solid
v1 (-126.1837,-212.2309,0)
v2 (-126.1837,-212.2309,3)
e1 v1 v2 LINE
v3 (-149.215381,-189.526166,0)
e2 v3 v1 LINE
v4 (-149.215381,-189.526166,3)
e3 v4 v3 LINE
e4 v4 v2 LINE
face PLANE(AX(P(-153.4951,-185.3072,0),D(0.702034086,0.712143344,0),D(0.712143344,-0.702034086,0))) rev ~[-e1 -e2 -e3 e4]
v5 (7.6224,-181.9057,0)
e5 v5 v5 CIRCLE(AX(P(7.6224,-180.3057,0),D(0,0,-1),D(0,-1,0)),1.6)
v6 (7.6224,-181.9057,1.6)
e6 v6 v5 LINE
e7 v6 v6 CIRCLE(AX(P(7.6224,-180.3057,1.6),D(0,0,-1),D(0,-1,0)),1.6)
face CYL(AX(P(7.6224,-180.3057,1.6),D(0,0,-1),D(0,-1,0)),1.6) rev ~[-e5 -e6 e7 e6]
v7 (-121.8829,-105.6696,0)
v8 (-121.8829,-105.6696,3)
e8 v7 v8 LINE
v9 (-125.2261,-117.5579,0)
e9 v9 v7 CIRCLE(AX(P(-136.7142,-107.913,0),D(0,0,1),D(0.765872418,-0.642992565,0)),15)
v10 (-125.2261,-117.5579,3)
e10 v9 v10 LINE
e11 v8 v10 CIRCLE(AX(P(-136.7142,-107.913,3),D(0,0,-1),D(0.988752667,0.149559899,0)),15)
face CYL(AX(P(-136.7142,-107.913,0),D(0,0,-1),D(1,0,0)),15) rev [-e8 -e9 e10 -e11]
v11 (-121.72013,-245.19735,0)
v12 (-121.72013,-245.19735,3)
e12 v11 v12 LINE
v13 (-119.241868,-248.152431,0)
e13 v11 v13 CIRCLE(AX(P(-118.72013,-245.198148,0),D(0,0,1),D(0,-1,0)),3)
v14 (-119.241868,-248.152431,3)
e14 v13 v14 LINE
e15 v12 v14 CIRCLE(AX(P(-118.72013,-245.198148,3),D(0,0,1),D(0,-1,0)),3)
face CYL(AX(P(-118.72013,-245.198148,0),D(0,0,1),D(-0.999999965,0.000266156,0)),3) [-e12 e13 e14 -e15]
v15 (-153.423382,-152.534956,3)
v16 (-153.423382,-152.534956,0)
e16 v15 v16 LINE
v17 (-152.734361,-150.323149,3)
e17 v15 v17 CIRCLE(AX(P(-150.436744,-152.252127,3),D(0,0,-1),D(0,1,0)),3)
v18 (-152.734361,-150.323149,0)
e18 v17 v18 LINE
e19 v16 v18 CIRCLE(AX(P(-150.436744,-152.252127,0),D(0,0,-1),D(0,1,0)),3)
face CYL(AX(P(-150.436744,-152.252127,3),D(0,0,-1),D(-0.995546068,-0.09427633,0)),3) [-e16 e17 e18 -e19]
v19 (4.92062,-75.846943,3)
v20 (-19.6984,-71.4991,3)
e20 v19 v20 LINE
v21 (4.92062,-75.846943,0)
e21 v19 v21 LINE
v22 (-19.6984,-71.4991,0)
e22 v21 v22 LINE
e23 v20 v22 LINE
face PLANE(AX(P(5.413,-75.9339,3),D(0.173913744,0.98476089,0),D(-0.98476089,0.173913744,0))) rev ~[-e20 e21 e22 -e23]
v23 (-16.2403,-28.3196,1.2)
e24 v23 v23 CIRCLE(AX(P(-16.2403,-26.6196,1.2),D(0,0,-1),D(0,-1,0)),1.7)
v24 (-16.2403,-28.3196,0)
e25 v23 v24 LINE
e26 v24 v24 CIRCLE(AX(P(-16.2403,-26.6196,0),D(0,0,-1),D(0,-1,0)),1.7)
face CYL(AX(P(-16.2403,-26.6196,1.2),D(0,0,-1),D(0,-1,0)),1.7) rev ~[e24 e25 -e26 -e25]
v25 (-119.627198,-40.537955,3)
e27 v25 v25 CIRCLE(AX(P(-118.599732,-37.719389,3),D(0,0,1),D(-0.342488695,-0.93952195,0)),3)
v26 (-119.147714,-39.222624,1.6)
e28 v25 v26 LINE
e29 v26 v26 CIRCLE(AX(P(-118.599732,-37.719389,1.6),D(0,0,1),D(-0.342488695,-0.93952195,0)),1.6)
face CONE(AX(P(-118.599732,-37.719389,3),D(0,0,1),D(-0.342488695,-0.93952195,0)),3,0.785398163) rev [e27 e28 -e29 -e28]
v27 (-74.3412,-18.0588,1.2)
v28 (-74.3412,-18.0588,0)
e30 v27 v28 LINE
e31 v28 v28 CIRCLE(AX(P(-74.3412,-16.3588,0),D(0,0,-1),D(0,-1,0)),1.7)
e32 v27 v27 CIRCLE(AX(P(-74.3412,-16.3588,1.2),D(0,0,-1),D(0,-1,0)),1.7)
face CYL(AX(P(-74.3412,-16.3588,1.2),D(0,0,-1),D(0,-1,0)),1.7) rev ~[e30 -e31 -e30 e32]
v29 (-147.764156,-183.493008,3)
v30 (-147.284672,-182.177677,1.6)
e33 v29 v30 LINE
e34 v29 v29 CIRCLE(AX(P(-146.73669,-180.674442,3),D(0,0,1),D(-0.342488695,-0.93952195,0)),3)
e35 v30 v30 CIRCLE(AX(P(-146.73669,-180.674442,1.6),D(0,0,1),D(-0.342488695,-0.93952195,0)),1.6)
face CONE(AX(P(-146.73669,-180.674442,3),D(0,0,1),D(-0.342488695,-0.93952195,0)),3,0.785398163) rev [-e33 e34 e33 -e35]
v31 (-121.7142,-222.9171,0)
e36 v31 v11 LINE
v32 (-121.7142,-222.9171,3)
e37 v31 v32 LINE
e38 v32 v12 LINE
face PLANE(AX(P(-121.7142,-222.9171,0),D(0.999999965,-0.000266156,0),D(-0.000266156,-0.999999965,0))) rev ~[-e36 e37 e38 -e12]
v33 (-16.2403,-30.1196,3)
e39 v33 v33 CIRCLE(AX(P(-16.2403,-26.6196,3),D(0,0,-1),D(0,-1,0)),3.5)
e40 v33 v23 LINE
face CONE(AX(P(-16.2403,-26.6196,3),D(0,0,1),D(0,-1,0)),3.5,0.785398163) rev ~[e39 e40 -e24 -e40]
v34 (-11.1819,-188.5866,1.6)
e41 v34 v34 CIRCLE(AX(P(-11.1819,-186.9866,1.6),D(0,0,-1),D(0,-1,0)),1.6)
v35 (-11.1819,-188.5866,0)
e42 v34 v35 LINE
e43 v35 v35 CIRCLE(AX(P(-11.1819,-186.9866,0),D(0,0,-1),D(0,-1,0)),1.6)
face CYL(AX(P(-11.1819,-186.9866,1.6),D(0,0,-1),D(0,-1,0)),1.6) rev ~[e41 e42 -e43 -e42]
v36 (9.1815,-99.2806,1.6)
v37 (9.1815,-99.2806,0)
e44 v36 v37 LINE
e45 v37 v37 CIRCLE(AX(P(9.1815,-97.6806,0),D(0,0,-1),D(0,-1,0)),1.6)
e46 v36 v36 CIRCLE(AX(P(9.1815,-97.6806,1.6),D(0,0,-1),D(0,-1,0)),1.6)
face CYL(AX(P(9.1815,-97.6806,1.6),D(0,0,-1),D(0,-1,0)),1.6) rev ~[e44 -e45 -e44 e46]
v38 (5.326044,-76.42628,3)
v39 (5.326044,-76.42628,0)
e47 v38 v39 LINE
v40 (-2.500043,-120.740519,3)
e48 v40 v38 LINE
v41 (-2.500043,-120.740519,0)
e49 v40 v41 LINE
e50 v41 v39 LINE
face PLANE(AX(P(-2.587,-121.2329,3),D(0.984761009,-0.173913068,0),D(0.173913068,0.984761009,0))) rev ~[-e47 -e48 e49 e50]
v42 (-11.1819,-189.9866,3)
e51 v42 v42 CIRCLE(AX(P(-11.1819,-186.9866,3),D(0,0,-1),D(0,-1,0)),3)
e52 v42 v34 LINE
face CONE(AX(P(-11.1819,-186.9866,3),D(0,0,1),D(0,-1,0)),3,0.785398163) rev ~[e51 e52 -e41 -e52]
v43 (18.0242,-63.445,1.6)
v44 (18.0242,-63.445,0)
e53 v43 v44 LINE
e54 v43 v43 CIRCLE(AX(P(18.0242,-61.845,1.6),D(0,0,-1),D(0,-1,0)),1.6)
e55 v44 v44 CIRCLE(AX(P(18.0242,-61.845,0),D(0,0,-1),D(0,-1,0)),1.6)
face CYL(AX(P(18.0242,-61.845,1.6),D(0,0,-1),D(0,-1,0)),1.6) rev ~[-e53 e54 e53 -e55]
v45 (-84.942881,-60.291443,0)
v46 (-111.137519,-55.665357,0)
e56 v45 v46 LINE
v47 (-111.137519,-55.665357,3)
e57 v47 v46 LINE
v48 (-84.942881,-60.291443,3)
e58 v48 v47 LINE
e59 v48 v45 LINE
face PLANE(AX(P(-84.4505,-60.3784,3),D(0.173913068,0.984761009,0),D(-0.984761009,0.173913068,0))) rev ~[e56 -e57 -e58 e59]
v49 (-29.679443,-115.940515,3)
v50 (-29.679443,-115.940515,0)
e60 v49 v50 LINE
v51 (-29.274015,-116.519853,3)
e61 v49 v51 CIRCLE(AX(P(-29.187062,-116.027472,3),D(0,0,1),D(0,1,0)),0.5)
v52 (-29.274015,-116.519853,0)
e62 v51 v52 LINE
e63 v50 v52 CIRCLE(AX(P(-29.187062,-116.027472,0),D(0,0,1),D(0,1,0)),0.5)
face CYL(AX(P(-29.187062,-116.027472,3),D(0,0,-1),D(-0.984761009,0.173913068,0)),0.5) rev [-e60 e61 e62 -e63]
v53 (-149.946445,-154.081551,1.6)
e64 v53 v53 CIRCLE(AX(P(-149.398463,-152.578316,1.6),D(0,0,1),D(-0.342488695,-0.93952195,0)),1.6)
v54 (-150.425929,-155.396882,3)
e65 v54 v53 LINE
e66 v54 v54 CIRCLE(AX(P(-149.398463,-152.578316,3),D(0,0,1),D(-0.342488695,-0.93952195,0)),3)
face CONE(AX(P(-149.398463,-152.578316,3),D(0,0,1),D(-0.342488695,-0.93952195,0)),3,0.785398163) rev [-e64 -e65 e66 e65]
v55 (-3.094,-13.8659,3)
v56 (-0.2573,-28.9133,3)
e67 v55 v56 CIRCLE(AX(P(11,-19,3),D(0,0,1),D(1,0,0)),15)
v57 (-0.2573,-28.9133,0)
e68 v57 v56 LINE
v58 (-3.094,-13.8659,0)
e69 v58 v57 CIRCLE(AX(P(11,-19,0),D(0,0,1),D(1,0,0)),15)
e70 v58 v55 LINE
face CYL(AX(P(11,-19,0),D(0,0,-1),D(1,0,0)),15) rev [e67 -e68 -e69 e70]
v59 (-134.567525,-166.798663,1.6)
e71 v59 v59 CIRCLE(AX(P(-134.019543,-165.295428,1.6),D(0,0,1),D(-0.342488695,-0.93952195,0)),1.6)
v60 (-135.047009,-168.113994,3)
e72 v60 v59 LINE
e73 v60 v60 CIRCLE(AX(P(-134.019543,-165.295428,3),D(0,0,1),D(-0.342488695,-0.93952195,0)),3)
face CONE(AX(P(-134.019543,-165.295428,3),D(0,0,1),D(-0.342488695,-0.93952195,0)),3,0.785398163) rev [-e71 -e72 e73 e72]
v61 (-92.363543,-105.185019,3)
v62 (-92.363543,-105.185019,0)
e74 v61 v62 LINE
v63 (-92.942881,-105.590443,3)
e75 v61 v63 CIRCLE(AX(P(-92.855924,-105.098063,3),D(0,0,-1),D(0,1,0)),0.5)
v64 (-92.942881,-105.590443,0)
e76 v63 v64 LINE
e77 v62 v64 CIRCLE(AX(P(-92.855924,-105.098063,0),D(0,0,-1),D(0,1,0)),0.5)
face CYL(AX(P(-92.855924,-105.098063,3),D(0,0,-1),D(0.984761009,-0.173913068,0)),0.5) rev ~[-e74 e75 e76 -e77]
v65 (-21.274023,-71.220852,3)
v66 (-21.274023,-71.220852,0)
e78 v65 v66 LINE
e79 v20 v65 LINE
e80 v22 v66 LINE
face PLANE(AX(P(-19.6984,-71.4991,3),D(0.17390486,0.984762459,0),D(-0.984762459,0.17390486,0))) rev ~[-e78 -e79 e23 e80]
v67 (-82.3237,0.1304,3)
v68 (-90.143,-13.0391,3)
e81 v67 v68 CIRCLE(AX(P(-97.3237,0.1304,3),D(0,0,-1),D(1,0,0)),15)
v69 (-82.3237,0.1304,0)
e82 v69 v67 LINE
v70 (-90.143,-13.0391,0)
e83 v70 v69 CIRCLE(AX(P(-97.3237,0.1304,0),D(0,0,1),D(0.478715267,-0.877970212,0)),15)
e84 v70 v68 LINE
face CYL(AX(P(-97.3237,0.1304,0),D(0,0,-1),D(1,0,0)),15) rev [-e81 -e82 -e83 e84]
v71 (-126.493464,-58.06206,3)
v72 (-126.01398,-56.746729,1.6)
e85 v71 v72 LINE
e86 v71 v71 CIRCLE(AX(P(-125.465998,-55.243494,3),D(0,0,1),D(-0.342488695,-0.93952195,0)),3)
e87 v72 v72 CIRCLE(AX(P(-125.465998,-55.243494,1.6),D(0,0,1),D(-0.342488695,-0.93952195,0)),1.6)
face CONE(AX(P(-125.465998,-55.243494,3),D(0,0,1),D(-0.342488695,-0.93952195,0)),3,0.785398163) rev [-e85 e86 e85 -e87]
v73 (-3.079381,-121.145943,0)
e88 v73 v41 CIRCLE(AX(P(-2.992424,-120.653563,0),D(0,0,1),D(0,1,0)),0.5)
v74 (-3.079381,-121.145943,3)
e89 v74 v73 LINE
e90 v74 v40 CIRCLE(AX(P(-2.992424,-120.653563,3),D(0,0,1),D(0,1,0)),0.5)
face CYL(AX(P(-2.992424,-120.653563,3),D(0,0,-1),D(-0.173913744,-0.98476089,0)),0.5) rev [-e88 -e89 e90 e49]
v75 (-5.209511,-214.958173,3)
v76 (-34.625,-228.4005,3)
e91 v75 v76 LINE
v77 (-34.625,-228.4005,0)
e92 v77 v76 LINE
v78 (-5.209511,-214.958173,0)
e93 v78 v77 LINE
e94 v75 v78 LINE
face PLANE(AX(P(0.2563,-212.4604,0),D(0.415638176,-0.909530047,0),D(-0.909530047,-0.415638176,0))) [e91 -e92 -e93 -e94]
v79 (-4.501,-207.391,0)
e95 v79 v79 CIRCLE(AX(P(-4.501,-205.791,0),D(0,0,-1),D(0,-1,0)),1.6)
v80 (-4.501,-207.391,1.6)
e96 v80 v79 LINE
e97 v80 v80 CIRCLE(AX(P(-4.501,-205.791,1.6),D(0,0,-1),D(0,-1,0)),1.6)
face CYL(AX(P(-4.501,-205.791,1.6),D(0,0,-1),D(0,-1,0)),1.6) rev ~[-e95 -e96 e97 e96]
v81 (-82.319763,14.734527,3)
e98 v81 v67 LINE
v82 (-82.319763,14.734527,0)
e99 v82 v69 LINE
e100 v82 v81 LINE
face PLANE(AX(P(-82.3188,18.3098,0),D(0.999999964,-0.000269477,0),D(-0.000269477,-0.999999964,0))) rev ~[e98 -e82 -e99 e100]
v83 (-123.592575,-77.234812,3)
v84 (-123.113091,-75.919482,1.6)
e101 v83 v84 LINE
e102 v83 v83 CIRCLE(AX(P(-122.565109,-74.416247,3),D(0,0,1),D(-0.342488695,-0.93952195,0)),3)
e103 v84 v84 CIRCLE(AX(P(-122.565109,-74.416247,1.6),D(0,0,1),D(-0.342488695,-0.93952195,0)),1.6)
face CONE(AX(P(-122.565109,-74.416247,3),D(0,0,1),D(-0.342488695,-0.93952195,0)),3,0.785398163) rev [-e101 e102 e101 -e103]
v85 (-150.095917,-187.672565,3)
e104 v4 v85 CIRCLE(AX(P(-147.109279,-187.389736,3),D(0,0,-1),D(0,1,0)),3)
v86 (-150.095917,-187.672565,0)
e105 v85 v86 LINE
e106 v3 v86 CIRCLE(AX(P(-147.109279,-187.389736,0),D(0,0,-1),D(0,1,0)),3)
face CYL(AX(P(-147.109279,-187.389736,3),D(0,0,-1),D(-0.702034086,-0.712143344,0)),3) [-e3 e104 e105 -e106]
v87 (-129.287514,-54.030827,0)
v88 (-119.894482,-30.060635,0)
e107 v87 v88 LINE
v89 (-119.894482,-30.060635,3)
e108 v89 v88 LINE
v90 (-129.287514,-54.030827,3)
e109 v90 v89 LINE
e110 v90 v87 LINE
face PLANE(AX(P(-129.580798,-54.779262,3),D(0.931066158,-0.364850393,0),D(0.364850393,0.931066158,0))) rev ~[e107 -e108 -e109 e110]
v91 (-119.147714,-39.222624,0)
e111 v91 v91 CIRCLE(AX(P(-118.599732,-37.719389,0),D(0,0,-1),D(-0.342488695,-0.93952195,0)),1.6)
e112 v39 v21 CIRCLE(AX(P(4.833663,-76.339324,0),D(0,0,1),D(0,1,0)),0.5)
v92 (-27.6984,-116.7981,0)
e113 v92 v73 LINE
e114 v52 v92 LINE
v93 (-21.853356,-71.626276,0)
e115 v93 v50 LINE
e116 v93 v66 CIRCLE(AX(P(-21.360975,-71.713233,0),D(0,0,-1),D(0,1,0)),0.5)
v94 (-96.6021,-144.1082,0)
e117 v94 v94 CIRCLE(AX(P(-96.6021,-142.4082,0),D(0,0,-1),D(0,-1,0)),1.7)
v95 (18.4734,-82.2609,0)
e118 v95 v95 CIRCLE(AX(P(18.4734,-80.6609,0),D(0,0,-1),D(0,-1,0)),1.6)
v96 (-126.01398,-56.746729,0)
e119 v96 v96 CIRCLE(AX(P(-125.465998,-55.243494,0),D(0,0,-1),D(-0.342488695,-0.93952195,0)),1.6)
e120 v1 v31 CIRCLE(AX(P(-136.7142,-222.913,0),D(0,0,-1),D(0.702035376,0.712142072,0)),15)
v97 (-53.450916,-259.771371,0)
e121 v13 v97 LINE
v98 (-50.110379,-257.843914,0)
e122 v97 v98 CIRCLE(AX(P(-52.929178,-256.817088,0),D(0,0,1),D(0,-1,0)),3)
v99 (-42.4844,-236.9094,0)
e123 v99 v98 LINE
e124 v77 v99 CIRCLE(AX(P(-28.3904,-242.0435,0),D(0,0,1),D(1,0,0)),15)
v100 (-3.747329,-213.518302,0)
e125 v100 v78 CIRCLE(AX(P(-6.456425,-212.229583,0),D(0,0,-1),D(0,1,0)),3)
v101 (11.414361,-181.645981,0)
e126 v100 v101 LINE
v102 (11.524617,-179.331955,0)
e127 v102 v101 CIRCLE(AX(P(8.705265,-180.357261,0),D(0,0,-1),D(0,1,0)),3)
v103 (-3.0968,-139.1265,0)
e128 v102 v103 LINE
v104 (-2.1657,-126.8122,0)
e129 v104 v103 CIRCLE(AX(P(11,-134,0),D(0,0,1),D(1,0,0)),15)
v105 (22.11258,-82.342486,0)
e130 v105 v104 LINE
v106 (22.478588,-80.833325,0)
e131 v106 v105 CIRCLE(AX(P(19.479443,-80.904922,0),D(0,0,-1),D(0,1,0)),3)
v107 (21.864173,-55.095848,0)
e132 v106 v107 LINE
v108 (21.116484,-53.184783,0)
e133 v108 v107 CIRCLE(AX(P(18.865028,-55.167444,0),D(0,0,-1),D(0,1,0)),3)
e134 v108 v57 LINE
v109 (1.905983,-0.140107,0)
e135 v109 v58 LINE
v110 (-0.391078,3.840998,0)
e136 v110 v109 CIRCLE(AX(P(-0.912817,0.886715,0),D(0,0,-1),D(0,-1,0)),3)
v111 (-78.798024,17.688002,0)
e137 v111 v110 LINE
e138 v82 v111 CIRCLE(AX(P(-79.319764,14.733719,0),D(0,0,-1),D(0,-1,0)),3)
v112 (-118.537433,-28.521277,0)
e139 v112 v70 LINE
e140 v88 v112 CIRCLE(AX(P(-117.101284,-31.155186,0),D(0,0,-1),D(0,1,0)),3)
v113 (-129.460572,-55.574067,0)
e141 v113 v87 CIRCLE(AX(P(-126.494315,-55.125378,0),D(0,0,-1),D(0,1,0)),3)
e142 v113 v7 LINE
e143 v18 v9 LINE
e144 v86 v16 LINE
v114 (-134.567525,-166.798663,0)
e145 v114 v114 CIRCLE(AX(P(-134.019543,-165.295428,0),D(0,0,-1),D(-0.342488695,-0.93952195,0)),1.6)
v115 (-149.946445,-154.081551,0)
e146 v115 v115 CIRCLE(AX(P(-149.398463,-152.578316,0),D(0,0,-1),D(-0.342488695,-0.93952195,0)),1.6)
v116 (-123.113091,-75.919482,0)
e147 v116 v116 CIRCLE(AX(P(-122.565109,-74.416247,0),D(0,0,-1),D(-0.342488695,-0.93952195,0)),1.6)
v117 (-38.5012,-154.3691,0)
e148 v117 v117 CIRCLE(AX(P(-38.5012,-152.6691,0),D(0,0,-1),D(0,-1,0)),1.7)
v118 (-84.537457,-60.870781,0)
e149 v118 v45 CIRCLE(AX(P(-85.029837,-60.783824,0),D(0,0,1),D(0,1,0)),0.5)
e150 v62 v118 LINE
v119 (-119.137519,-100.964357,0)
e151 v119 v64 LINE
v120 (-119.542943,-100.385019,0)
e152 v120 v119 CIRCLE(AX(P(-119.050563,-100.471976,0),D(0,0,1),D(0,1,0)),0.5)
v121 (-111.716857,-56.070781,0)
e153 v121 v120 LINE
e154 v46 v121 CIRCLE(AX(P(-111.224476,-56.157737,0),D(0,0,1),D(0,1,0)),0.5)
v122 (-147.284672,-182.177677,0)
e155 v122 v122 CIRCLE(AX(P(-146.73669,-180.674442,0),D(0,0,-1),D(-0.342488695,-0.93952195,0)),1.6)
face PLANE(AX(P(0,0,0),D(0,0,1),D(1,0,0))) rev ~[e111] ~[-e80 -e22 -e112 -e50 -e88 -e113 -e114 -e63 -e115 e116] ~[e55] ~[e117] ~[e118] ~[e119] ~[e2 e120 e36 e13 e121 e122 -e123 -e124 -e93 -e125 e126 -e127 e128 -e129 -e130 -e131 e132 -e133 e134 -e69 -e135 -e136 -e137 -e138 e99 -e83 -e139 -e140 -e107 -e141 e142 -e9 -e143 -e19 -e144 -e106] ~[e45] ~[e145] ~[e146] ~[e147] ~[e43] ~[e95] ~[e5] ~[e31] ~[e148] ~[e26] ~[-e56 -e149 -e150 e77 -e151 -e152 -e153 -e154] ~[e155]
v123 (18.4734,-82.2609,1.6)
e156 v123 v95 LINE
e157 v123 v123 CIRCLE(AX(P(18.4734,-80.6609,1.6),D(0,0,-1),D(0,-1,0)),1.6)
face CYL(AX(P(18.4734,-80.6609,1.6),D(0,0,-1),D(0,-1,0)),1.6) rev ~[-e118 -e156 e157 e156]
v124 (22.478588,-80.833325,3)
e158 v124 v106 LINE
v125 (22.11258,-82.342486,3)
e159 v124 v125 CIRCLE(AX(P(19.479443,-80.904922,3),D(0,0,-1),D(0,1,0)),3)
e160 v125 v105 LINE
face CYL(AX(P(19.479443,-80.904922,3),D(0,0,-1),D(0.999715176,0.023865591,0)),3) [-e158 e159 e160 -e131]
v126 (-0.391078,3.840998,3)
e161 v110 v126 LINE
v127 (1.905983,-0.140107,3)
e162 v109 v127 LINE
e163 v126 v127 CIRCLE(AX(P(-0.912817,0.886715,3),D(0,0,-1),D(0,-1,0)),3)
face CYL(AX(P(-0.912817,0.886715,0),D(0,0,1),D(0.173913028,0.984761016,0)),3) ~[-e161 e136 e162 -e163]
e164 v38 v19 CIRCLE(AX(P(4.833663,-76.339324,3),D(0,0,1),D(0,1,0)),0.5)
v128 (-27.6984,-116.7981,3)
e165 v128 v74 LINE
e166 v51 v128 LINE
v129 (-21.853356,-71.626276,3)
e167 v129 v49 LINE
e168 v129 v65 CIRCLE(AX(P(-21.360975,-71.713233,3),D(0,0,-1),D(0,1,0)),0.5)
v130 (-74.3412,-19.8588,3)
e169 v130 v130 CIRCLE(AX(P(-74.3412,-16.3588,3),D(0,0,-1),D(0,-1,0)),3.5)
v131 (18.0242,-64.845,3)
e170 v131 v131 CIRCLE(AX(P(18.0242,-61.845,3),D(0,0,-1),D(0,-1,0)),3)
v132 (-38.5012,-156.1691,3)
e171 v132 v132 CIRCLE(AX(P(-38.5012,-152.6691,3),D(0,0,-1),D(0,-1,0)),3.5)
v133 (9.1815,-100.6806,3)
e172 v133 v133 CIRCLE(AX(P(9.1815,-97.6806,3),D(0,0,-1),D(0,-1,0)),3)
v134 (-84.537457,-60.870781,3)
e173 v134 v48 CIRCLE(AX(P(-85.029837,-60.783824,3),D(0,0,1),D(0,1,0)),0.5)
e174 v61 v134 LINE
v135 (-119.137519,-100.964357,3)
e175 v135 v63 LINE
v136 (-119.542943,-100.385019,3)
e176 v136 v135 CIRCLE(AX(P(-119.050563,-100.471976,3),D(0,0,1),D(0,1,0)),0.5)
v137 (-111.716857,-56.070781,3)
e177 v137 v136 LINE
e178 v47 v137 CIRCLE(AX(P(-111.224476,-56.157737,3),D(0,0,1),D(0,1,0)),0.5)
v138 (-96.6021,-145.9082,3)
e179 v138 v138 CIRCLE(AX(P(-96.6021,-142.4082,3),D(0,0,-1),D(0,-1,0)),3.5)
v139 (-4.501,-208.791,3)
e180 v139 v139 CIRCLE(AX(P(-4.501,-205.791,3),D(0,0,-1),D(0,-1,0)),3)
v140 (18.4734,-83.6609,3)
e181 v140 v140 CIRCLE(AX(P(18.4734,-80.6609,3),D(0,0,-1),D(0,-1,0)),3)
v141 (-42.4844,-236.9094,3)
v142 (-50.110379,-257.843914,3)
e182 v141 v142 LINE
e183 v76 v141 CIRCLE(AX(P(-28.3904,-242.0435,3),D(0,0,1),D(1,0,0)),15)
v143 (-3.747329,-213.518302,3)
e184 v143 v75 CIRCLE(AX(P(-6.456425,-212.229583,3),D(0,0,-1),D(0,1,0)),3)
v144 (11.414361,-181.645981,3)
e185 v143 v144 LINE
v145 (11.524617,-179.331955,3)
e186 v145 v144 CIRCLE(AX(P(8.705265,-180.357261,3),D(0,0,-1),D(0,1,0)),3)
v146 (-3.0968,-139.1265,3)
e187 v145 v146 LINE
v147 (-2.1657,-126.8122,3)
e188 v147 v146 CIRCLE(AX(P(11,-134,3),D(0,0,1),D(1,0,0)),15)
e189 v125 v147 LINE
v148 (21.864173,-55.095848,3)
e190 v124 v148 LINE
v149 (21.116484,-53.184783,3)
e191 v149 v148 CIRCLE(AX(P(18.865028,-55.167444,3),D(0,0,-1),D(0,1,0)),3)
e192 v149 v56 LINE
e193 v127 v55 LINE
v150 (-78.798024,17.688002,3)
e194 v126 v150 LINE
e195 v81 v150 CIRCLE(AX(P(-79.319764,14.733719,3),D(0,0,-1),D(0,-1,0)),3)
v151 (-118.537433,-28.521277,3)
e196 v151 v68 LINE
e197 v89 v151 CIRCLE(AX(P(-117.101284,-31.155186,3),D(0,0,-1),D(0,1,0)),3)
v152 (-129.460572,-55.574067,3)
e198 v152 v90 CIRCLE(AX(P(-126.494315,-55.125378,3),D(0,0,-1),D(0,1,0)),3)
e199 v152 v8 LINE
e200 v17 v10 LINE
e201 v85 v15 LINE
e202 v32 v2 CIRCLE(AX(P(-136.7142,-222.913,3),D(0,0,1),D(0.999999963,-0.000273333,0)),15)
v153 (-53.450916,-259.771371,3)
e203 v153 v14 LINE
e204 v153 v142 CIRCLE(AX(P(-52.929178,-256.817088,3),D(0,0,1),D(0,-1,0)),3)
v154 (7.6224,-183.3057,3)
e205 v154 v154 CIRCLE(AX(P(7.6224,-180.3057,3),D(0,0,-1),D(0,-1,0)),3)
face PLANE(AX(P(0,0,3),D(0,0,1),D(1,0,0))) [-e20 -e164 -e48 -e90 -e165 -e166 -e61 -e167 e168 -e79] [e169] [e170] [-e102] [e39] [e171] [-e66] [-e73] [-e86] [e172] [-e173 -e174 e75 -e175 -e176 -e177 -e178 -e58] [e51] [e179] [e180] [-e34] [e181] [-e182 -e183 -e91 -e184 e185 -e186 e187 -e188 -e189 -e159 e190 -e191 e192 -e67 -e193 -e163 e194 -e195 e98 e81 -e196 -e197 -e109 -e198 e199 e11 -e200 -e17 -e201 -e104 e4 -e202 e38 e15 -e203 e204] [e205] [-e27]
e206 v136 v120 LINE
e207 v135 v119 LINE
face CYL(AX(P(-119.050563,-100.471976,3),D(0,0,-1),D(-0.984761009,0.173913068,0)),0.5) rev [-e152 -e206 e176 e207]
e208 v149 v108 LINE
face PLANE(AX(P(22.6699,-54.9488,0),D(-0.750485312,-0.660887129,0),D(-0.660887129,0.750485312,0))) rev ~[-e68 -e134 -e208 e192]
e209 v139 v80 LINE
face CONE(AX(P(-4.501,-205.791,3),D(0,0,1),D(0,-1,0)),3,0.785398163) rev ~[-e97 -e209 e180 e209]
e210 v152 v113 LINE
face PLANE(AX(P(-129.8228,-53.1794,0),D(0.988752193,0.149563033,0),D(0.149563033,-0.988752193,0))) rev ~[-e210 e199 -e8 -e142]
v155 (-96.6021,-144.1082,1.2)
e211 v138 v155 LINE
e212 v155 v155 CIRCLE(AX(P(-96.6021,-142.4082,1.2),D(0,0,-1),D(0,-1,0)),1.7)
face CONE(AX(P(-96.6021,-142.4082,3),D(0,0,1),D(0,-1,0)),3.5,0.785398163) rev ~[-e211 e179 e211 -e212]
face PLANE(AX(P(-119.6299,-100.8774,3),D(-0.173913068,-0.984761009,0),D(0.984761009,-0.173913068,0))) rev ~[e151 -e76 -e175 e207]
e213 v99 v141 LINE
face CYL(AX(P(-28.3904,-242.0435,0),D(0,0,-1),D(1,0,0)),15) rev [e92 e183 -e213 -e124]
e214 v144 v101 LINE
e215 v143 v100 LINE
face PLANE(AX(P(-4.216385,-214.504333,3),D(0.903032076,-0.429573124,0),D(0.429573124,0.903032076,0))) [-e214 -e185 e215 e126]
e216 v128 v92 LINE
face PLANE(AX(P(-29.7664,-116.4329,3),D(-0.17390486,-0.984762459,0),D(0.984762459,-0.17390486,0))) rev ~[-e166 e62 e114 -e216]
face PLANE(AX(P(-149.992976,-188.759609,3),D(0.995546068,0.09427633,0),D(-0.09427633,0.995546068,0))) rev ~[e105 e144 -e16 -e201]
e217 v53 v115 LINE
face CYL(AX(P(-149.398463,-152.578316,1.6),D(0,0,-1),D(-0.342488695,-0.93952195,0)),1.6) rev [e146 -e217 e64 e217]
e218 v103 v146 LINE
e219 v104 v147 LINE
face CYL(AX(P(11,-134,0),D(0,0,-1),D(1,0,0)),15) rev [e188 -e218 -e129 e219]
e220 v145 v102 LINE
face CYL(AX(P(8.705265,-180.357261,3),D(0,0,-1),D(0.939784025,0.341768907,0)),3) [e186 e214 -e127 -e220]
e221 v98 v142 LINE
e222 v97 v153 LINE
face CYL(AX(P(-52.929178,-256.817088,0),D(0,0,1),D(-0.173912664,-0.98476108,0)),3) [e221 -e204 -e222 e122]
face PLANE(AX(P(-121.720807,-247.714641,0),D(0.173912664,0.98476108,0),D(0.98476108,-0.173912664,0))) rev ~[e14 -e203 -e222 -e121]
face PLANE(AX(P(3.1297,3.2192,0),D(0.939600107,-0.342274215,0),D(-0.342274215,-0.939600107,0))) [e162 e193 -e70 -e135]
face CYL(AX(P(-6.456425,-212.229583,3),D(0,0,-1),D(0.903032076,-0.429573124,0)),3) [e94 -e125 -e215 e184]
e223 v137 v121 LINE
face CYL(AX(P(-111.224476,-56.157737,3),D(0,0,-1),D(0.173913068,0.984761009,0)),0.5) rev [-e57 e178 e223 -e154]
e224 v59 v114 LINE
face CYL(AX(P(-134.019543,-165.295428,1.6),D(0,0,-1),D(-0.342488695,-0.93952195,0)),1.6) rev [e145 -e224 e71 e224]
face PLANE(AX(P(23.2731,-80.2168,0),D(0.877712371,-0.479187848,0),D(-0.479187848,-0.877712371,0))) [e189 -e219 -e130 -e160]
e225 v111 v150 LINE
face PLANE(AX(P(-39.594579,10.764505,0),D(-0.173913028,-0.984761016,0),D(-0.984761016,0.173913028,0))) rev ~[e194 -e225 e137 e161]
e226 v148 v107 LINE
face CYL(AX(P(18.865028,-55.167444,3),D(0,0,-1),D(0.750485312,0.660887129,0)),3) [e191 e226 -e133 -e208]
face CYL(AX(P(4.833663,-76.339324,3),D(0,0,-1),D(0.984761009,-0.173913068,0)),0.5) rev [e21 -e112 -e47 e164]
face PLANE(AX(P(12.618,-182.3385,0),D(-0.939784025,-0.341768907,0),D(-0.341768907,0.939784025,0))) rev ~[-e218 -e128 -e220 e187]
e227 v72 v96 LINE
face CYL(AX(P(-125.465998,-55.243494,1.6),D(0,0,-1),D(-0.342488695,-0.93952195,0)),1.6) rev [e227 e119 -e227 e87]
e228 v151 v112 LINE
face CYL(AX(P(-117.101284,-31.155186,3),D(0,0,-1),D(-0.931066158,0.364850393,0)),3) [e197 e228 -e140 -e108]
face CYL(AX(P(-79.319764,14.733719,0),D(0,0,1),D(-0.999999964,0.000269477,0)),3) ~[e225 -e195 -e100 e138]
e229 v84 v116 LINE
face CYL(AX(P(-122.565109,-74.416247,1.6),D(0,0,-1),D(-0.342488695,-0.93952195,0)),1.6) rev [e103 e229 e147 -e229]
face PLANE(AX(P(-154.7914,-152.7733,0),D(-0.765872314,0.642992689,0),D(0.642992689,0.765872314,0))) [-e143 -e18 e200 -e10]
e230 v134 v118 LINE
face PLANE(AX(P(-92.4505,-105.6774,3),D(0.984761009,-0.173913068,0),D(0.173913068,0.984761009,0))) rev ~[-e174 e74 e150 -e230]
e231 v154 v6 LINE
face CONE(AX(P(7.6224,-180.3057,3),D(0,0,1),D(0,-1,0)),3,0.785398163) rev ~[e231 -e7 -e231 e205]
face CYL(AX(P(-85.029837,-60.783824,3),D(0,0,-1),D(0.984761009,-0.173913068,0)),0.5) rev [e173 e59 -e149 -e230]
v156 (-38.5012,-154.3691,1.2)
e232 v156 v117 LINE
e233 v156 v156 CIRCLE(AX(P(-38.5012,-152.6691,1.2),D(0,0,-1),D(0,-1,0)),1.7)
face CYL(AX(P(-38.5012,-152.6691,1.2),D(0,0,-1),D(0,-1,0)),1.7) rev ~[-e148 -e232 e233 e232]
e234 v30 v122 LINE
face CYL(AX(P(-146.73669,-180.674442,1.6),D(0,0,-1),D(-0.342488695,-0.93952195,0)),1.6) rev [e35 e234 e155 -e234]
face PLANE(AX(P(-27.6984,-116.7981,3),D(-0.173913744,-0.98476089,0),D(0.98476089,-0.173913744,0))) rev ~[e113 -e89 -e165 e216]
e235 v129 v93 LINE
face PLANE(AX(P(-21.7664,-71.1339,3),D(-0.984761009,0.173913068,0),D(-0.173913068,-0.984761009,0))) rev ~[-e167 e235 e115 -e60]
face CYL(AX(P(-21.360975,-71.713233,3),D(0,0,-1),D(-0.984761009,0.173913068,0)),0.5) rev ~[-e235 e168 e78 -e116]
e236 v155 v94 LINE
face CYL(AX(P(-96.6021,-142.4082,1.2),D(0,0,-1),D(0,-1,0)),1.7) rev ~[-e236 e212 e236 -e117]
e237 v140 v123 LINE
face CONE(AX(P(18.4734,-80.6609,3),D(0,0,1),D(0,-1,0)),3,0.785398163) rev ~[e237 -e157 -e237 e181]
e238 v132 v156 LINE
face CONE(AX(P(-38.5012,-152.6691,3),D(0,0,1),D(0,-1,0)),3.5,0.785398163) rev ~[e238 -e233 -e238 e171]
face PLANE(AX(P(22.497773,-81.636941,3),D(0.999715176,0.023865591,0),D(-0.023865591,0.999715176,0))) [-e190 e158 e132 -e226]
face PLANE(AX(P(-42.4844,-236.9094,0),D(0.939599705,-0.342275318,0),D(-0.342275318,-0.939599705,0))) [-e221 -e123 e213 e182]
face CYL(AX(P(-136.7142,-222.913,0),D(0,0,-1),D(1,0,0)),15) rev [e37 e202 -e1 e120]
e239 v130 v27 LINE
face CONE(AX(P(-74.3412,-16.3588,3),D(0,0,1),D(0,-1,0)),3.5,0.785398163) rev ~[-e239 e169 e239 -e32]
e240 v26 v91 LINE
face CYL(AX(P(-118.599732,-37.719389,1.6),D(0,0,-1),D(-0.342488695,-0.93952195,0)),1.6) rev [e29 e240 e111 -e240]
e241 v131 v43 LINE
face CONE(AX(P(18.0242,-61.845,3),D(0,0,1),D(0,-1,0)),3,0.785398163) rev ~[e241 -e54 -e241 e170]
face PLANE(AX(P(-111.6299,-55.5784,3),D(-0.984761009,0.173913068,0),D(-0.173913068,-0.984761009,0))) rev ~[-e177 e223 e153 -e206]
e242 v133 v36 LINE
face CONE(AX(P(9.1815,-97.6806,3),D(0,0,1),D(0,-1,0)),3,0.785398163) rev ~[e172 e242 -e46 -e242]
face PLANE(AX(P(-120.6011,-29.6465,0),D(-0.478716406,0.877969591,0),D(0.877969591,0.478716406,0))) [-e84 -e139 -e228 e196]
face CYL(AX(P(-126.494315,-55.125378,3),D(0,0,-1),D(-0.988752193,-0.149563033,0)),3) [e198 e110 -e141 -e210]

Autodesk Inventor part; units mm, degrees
ref_plane "YZ Plane" through (0, 0, 0) normal (1, 0, 0) x (0, 1, 0)
ref_plane "XZ Plane" through (0, 0, 0) normal (0, 1, 0) x (-1, 0, 0)
ref_plane "XY Plane" through (0, 0, 0) normal (0, 0, 1) x (1, 0, 0)
sketch "Szkic1" plane through (0, 0, 0) normal (0, 0, 1) x (1, 0, 0)
  circle A0 centre (-97.3237, 0.1304) radius 1.5 projected
  circle A1 centre (-136.7142, -222.913) radius 1.5 projected
  circle A2 centre (11, -134) radius 1.5 projected
  circle A3 centre (-28.3904, -242.0435) radius 1.5 projected
  circle A4 centre (11, -19) radius 1.5 projected
  circle A5 centre (-136.7142, -107.913) radius 1.5 projected
  line L0 (-148.0251, -243.0692) -> (-24.6677, -264.8546) projected
  line L1 (-24.6677, -264.8546) -> (11.4563, -188.9162) projected
  line L2 (11.4563, -188.9162) -> (24.152, -117.0287) projected
  line L3 (24.152, -117.0287) -> (21.3581, 0) projected
  line L4 (21.3581, 0) -> (-100.5472, 21.529) projected
  line L5 (-100.5472, 21.529) -> (-143.2574, -87.4635) projected
  line L6 (-143.2574, -87.4635) -> (-155.9531, -159.351) projected
  line L7 (-155.9531, -159.351) -> (-148.0251, -243.0692) projected
  circle A6 centre (-97.3237, 0.1304) radius 1.5 projected
  circle A7 centre (-136.7142, -222.913) radius 1.5 projected
  circle A8 centre (11, -134) radius 1.5 projected
  circle A9 centre (-28.3904, -242.0435) radius 1.5 projected
  circle A10 centre (11, -19) radius 1.5 projected
  circle A11 centre (-136.7142, -107.913) radius 1.5 projected
  line L8 (-148.0251, -243.0692) -> (-24.6677, -264.8546) projected
  line L9 (-24.6677, -264.8546) -> (11.4563, -188.9162) projected
  line L10 (11.4563, -188.9162) -> (24.152, -117.0287) projected
  line L11 (24.152, -117.0287) -> (21.3581, 0) projected
  line L12 (21.3581, 0) -> (-100.5472, 21.529) projected
  line L13 (-100.5472, 21.529) -> (-143.2574, -87.4635) projected
  line L14 (-143.2574, -87.4635) -> (-155.9531, -159.351) projected
  line L15 (-155.9531, -159.351) -> (-148.0251, -243.0692) projected
  circle A12 centre (-136.7142, -107.913) radius 1.15 projected
  arc A13 (-133.9886, -120.1123) -> (-133.0986, -95.9474) centre (-136.7142, -107.913) ccw projected
  circle A14 centre (-136.7142, -107.913) radius 15
  circle A15 centre (-97.3237, 0.1304) radius 15
  circle A16 centre (11, -19) radius 15
  circle A17 centre (11, -134) radius 15
  circle A18 centre (-28.3904, -242.0435) radius 15
  circle A19 centre (-136.7142, -222.913) radius 15
  line L16 (-120.6011, -29.6465) -> (-90.143, -13.0391)
  line L17 (-82.3188, 18.3098) -> (-82.3237, 0.1264)
  line L18 (-129.8228, -53.1794) -> (-121.8829, -105.6696)
  line L19 (-154.7914, -152.7733) -> (-125.2261, -117.5579)
  line L20 (-121.7142, -222.9171) -> (-121.7208, -247.7146)
  line L21 (-153.4951, -185.3072) -> (-126.1837, -212.2309)
  line L22 (-118.7449, -437.4142) -> (42.3279, 474.6402)
  line L23 (22.6699, -54.9488) -> (-0.2573, -28.9133)
  line L24 (3.1297, 3.2192) -> (-3.094, -13.8659)
  line L25 (23.2731, -80.2168) -> (-2.1657, -126.8122)
  line L26 (12.618, -182.3385) -> (-3.0968, -139.1265)
  line L27 (-42.4844, -236.9094) -> (-50.972, -260.2092)
  line L28 (0.2563, -212.4604) -> (-34.625, -228.4005)
  line L29 (-111.0398, -145.1778) -> (-25.8854, -160.2164) projected
  line L30 (-25.8854, -160.2164) -> (-28.9646, -177.652) projected
  line L31 (-28.9646, -177.652) -> (-48.4769, -218.6699) projected
  line L32 (-48.4769, -218.6699) -> (-109.8367, -207.8335) projected
  line L33 (-109.8367, -207.8335) -> (-114.119, -162.6134) projected
  line L34 (-114.119, -162.6134) -> (-111.0398, -145.1778) projected
  line L35 (-73.9886, -25.8113) -> (-19.8092, -35.3796) projected
  line L36 (-19.8092, -35.3796) -> (-17.9074, -115.042) projected
  line L37 (-17.9074, -115.042) -> (-20.668, -130.6736) projected
  line L38 (-20.668, -130.6736) -> (-105.8224, -115.635) projected
  line L39 (-105.8224, -115.635) -> (-103.0618, -100.0034) projected
  line L40 (-103.0618, -100.0034) -> (-73.9886, -25.8113) projected
  line L41 (-111.0398, -145.1778) -> (-25.8854, -160.2164) projected
  line L42 (-25.8854, -160.2164) -> (-28.9646, -177.652) projected
  line L43 (-28.9646, -177.652) -> (-48.4769, -218.6699) projected
  line L44 (-48.4769, -218.6699) -> (-109.8367, -207.8335) projected
  line L45 (-109.8367, -207.8335) -> (-114.119, -162.6134) projected
  line L46 (-114.119, -162.6134) -> (-111.0398, -145.1778) projected
  line L47 (-73.9886, -25.8113) -> (-19.8092, -35.3796) projected
  line L48 (-19.8092, -35.3796) -> (-17.9074, -115.042) projected
  line L49 (-17.9074, -115.042) -> (-20.668, -130.6736) projected
  line L50 (-20.668, -130.6736) -> (-105.8224, -115.635) projected
  line L51 (-105.8224, -115.635) -> (-103.0618, -100.0034) projected
  line L52 (-103.0618, -100.0034) -> (-73.9886, -25.8113) projected
  point P0 (0, 0)
  point P1 (-82.3237, 0.1304)
  dimension "d0" = 30
  dimension "d1" = 30
  dimension "d2" = 30
  dimension "d3" = 30
  dimension "d4" = 30
  dimension "d5" = 30
  dimension "d6" = 100
  dimension "d7" = 140
  dimension "d8" = 150
  dimension "d9" = 150
  dimension "d10" = 100
  dimension "d11" = 140
extrude "Wyciągnięcie proste1" add sketch "Szkic1" along normal blind 3 contours L20 A19 L21 L7 L6 L19 A14 L18 L5 L16 A15 L17 L4 L22 L35 L40 L39 L38 L29 L34 L33 L32 L0 | L22 L32 L31 L30 L29 L38 L37 L36 L35 L4 L24 A16 L23 L3 L25 A17 L26 L2 L1 L28 A18 L27 L0 | L32 L33 L34 L29 L22 | L22 L29 L30 L31 L32 | L38 L39 L40 L35 L22 | L22 L35 L36 L37 L38
sketch "Szkic2" plane through (0, 0, 3) normal (0, 0, 1) x (1, 0, 0)
  line L0 (-120.6011, -29.6465) -> (-129.8228, -53.1794) projected
  line L1 (-155.9531, -159.351) -> (-153.4951, -185.3072) projected
  line L2 (0.2563, -212.4604) -> (11.4563, -188.9162) projected
  line L3 (23.2731, -80.2168) -> (22.6699, -54.9488) projected
  line L4 (-16.7009, -240.7488) -> (28.7771, -145.1467)
  line L5 (-147.1137, -219.1644) -> (-156.9395, -115.4052)
  line L6 (-136.6684, -72.8662) -> (-117.3579, -23.5875)
  line L7 (22.7481, -92.123) -> (21.4308, -36.9421)
  line L8 (-129.8228, -53.1794) -> (-121.8829, -105.6696) projected
  line L9 (-90.143, -13.0391) -> (-120.6011, -29.6465) projected
  line L10 (22.6699, -54.9488) -> (-0.2573, -28.9133) projected
  line L11 (-2.1657, -126.8122) -> (23.2731, -80.2168) projected
  line L12 (12.618, -182.3385) -> (-3.0968, -139.1265) projected
  line L13 (11.4563, -188.9162) -> (12.618, -182.3385) projected
  line L14 (-34.625, -228.4005) -> (0.2563, -212.4604) projected
  line L15 (-153.4951, -185.3072) -> (-126.1837, -212.2309) projected
  line L16 (-154.7914, -152.7733) -> (-155.9531, -159.351) projected
  line L17 (-125.2261, -117.5579) -> (-154.7914, -152.7733) projected
  point P0 (0, 0)
  point P1 (11.9537, -180.5121)
  point P2 (-4.2164, -214.5044)
  point P3 (-149.993, -188.7596)
  point P4 (-153.5418, -151.2849)
  point P5 (21.8381, -54.0042)
  point P6 (22.4978, -81.637)
  point P7 (-129.5808, -54.7792)
  point P8 (-119.4961, -29.044)
  dimension "d14" = 3.161
  dimension "d15" = 3.161
  dimension "d16" = 0.809
  dimension "d17" = 0.809
extrude "Wyciągnięcie proste2" cut sketch "Szkic2" against normal through all
fillet "Zaokrąglenie1" radius 3 12 edges at (-121.7208, -247.7146, 1.5) (-50.972, -260.2092, 1.5) (-4.2164, -214.5044, 1.5) (11.9537, -180.5121, 1.5) (22.4978, -81.637, 1.5) (21.8381, -54.0042, 1.5) (3.1297, 3.2192, 1.5) (-82.3188, 18.3098, 1.5) (-119.4961, -29.044, 1.5) (-129.5808, -54.7792, 1.5) (-153.5418, -151.2849, 1.5) (-149.993, -188.7596, 1.5)
sketch "Sketch6" plane through (0, 0, 3) normal (0, 0, 1) x (1, 0, 0)
  point P0 (0, 0)
  point P1 (18.0242, -61.845)
  point P2 (18.4734, -80.6609)
  point P3 (9.1815, -97.6806)
  point P4 (-4.501, -205.791)
  point P5 (-11.1819, -186.9866)
  point P6 (7.6224, -180.3057)
  point P7 (-146.7411, -180.6708)
  point P8 (-140.2629, -164.2228)
  point P9 (-149.4017, -152.5746)
  point P10 (-114.6291, -30.4652)
  point P11 (-125.4655, -55.2407)
  point P12 (-122.5653, -74.4135)
hole "Hole1" at (-4.501, -205.791, 3) at (-11.1819, -186.9866, 3) at (7.6224, -180.3057, 3) at (18.4734, -80.6609, 3) at (9.1815, -97.6806, 3) at (18.0242, -61.845, 3) direction (0, 0, -1) diameter 3.2 end through all countersink diameter 6 countersink angle 90
sketch "Sketch7" plane through (0, 0, 3) normal (0, 0, 1) x (1, 0, 0)
  line L0 (-111.3636, -56.9455) -> (-111.2593, -56.3547) projected
  line L1 (-111.2245, -56.1577) -> (-111.2593, -56.3547) projected
  line L2 (-111.2245, -56.1577) -> (-85.0299, -60.7838) projected
  line L3 (-119.0506, -100.472) -> (-92.8559, -105.0981) projected
  line L4 (-92.8559, -105.0981) -> (-92.8212, -104.9011) projected
  line L5 (-85.0299, -60.7838) -> (-92.8559, -105.0981)
  line L6 (-119.0506, -100.472) -> (-111.2245, -56.1577)
  line L7 (-84.4505, -60.3784) -> (-111.6299, -55.5784)
  line L8 (-111.6299, -55.5784) -> (-119.6299, -100.8774)
  line L9 (-119.6299, -100.8774) -> (-92.4505, -105.6774)
  line L10 (-92.4505, -105.6774) -> (-84.4505, -60.3784)
  line L11 (-19.7853, -71.9914) -> (-21.361, -71.7132) projected
  line L12 (-21.361, -71.7132) -> (-21.3957, -71.9101) projected
  line L13 (-27.6114, -116.3057) -> (-2.9924, -120.6535) projected
  line L14 (-2.9576, -120.4566) -> (-2.9924, -120.6535) projected
  line L15 (-27.6114, -116.3057) -> (-29.187, -116.0274) projected
  line L16 (-19.7853, -71.9914) -> (4.8337, -76.3393) projected
  line L17 (-21.361, -71.7132) -> (-29.187, -116.0274)
  line L18 (-2.9924, -120.6535) -> (4.8337, -76.3393)
  line L19 (-29.7664, -116.4329) -> (-27.6984, -116.7981)
  line L20 (-27.6984, -116.7981) -> (-2.587, -121.2329)
  line L21 (-2.587, -121.2329) -> (5.413, -75.9339)
  line L22 (5.413, -75.9339) -> (-19.6984, -71.4991)
  line L23 (-19.6984, -71.4991) -> (-21.7664, -71.1339)
  line L24 (-21.7664, -71.1339) -> (-29.7664, -116.4329)
  point P0 (0, 0)
  dimension "d34" = 0.5
  dimension "d35" = 0.5
extrude "Extrusion5" cut sketch "Sketch7" against normal through all contours L0 L1 L2 L5 L4 L3 L6 | L10 L9 L8 L7 | L16 L18 L14 L13 L15 L17 L12 L11 | L24 L23 L22 L21 L20 L19
fillet "Fillet3" radius 0.5 8 edges at (-119.6299, -100.8774, 1.5) (-92.4505, -105.6774, 1.5) (-111.6299, -55.5784, 1.5) (-84.4505, -60.3784, 1.5) (5.413, -75.9339, 1.5) (-21.7664, -71.1339, 1.5) (-29.7664, -116.4329, 1.5) (-2.587, -121.2329, 1.5)
ref_plane "Work Plane2" through (-53.2224, -66.4011, 0) normal (-0.9848, 0.1739, 0) x (0, 0, 1)
mirror "Mirror2" about plane through (-53.2224, -66.4011, 0) normal (-0.9848, 0.1739, 0) of "Hole1"
sketch "Sketch8" plane through (0, 0, 3) normal (0, 0, 1) x (1, 0, 0)
  circle A0 centre (-16.2403, -26.6196) radius 1.75 projected
  circle A1 centre (-74.3412, -16.3588) radius 1.75 projected
  circle A2 centre (-96.6021, -142.4082) radius 1.75 projected
  circle A3 centre (-38.5012, -152.6691) radius 1.75 projected
  point P0 (0, 0)
hole "Hole2" at (-38.5012, -152.6691, 3) at (-96.6021, -142.4082, 3) at (-16.2403, -26.6196, 3) at (-74.3412, -16.3588, 3) direction (0, 0, -1) diameter 3.4 end through all countersink diameter 7 countersink angle 90
properties part number "dol"
